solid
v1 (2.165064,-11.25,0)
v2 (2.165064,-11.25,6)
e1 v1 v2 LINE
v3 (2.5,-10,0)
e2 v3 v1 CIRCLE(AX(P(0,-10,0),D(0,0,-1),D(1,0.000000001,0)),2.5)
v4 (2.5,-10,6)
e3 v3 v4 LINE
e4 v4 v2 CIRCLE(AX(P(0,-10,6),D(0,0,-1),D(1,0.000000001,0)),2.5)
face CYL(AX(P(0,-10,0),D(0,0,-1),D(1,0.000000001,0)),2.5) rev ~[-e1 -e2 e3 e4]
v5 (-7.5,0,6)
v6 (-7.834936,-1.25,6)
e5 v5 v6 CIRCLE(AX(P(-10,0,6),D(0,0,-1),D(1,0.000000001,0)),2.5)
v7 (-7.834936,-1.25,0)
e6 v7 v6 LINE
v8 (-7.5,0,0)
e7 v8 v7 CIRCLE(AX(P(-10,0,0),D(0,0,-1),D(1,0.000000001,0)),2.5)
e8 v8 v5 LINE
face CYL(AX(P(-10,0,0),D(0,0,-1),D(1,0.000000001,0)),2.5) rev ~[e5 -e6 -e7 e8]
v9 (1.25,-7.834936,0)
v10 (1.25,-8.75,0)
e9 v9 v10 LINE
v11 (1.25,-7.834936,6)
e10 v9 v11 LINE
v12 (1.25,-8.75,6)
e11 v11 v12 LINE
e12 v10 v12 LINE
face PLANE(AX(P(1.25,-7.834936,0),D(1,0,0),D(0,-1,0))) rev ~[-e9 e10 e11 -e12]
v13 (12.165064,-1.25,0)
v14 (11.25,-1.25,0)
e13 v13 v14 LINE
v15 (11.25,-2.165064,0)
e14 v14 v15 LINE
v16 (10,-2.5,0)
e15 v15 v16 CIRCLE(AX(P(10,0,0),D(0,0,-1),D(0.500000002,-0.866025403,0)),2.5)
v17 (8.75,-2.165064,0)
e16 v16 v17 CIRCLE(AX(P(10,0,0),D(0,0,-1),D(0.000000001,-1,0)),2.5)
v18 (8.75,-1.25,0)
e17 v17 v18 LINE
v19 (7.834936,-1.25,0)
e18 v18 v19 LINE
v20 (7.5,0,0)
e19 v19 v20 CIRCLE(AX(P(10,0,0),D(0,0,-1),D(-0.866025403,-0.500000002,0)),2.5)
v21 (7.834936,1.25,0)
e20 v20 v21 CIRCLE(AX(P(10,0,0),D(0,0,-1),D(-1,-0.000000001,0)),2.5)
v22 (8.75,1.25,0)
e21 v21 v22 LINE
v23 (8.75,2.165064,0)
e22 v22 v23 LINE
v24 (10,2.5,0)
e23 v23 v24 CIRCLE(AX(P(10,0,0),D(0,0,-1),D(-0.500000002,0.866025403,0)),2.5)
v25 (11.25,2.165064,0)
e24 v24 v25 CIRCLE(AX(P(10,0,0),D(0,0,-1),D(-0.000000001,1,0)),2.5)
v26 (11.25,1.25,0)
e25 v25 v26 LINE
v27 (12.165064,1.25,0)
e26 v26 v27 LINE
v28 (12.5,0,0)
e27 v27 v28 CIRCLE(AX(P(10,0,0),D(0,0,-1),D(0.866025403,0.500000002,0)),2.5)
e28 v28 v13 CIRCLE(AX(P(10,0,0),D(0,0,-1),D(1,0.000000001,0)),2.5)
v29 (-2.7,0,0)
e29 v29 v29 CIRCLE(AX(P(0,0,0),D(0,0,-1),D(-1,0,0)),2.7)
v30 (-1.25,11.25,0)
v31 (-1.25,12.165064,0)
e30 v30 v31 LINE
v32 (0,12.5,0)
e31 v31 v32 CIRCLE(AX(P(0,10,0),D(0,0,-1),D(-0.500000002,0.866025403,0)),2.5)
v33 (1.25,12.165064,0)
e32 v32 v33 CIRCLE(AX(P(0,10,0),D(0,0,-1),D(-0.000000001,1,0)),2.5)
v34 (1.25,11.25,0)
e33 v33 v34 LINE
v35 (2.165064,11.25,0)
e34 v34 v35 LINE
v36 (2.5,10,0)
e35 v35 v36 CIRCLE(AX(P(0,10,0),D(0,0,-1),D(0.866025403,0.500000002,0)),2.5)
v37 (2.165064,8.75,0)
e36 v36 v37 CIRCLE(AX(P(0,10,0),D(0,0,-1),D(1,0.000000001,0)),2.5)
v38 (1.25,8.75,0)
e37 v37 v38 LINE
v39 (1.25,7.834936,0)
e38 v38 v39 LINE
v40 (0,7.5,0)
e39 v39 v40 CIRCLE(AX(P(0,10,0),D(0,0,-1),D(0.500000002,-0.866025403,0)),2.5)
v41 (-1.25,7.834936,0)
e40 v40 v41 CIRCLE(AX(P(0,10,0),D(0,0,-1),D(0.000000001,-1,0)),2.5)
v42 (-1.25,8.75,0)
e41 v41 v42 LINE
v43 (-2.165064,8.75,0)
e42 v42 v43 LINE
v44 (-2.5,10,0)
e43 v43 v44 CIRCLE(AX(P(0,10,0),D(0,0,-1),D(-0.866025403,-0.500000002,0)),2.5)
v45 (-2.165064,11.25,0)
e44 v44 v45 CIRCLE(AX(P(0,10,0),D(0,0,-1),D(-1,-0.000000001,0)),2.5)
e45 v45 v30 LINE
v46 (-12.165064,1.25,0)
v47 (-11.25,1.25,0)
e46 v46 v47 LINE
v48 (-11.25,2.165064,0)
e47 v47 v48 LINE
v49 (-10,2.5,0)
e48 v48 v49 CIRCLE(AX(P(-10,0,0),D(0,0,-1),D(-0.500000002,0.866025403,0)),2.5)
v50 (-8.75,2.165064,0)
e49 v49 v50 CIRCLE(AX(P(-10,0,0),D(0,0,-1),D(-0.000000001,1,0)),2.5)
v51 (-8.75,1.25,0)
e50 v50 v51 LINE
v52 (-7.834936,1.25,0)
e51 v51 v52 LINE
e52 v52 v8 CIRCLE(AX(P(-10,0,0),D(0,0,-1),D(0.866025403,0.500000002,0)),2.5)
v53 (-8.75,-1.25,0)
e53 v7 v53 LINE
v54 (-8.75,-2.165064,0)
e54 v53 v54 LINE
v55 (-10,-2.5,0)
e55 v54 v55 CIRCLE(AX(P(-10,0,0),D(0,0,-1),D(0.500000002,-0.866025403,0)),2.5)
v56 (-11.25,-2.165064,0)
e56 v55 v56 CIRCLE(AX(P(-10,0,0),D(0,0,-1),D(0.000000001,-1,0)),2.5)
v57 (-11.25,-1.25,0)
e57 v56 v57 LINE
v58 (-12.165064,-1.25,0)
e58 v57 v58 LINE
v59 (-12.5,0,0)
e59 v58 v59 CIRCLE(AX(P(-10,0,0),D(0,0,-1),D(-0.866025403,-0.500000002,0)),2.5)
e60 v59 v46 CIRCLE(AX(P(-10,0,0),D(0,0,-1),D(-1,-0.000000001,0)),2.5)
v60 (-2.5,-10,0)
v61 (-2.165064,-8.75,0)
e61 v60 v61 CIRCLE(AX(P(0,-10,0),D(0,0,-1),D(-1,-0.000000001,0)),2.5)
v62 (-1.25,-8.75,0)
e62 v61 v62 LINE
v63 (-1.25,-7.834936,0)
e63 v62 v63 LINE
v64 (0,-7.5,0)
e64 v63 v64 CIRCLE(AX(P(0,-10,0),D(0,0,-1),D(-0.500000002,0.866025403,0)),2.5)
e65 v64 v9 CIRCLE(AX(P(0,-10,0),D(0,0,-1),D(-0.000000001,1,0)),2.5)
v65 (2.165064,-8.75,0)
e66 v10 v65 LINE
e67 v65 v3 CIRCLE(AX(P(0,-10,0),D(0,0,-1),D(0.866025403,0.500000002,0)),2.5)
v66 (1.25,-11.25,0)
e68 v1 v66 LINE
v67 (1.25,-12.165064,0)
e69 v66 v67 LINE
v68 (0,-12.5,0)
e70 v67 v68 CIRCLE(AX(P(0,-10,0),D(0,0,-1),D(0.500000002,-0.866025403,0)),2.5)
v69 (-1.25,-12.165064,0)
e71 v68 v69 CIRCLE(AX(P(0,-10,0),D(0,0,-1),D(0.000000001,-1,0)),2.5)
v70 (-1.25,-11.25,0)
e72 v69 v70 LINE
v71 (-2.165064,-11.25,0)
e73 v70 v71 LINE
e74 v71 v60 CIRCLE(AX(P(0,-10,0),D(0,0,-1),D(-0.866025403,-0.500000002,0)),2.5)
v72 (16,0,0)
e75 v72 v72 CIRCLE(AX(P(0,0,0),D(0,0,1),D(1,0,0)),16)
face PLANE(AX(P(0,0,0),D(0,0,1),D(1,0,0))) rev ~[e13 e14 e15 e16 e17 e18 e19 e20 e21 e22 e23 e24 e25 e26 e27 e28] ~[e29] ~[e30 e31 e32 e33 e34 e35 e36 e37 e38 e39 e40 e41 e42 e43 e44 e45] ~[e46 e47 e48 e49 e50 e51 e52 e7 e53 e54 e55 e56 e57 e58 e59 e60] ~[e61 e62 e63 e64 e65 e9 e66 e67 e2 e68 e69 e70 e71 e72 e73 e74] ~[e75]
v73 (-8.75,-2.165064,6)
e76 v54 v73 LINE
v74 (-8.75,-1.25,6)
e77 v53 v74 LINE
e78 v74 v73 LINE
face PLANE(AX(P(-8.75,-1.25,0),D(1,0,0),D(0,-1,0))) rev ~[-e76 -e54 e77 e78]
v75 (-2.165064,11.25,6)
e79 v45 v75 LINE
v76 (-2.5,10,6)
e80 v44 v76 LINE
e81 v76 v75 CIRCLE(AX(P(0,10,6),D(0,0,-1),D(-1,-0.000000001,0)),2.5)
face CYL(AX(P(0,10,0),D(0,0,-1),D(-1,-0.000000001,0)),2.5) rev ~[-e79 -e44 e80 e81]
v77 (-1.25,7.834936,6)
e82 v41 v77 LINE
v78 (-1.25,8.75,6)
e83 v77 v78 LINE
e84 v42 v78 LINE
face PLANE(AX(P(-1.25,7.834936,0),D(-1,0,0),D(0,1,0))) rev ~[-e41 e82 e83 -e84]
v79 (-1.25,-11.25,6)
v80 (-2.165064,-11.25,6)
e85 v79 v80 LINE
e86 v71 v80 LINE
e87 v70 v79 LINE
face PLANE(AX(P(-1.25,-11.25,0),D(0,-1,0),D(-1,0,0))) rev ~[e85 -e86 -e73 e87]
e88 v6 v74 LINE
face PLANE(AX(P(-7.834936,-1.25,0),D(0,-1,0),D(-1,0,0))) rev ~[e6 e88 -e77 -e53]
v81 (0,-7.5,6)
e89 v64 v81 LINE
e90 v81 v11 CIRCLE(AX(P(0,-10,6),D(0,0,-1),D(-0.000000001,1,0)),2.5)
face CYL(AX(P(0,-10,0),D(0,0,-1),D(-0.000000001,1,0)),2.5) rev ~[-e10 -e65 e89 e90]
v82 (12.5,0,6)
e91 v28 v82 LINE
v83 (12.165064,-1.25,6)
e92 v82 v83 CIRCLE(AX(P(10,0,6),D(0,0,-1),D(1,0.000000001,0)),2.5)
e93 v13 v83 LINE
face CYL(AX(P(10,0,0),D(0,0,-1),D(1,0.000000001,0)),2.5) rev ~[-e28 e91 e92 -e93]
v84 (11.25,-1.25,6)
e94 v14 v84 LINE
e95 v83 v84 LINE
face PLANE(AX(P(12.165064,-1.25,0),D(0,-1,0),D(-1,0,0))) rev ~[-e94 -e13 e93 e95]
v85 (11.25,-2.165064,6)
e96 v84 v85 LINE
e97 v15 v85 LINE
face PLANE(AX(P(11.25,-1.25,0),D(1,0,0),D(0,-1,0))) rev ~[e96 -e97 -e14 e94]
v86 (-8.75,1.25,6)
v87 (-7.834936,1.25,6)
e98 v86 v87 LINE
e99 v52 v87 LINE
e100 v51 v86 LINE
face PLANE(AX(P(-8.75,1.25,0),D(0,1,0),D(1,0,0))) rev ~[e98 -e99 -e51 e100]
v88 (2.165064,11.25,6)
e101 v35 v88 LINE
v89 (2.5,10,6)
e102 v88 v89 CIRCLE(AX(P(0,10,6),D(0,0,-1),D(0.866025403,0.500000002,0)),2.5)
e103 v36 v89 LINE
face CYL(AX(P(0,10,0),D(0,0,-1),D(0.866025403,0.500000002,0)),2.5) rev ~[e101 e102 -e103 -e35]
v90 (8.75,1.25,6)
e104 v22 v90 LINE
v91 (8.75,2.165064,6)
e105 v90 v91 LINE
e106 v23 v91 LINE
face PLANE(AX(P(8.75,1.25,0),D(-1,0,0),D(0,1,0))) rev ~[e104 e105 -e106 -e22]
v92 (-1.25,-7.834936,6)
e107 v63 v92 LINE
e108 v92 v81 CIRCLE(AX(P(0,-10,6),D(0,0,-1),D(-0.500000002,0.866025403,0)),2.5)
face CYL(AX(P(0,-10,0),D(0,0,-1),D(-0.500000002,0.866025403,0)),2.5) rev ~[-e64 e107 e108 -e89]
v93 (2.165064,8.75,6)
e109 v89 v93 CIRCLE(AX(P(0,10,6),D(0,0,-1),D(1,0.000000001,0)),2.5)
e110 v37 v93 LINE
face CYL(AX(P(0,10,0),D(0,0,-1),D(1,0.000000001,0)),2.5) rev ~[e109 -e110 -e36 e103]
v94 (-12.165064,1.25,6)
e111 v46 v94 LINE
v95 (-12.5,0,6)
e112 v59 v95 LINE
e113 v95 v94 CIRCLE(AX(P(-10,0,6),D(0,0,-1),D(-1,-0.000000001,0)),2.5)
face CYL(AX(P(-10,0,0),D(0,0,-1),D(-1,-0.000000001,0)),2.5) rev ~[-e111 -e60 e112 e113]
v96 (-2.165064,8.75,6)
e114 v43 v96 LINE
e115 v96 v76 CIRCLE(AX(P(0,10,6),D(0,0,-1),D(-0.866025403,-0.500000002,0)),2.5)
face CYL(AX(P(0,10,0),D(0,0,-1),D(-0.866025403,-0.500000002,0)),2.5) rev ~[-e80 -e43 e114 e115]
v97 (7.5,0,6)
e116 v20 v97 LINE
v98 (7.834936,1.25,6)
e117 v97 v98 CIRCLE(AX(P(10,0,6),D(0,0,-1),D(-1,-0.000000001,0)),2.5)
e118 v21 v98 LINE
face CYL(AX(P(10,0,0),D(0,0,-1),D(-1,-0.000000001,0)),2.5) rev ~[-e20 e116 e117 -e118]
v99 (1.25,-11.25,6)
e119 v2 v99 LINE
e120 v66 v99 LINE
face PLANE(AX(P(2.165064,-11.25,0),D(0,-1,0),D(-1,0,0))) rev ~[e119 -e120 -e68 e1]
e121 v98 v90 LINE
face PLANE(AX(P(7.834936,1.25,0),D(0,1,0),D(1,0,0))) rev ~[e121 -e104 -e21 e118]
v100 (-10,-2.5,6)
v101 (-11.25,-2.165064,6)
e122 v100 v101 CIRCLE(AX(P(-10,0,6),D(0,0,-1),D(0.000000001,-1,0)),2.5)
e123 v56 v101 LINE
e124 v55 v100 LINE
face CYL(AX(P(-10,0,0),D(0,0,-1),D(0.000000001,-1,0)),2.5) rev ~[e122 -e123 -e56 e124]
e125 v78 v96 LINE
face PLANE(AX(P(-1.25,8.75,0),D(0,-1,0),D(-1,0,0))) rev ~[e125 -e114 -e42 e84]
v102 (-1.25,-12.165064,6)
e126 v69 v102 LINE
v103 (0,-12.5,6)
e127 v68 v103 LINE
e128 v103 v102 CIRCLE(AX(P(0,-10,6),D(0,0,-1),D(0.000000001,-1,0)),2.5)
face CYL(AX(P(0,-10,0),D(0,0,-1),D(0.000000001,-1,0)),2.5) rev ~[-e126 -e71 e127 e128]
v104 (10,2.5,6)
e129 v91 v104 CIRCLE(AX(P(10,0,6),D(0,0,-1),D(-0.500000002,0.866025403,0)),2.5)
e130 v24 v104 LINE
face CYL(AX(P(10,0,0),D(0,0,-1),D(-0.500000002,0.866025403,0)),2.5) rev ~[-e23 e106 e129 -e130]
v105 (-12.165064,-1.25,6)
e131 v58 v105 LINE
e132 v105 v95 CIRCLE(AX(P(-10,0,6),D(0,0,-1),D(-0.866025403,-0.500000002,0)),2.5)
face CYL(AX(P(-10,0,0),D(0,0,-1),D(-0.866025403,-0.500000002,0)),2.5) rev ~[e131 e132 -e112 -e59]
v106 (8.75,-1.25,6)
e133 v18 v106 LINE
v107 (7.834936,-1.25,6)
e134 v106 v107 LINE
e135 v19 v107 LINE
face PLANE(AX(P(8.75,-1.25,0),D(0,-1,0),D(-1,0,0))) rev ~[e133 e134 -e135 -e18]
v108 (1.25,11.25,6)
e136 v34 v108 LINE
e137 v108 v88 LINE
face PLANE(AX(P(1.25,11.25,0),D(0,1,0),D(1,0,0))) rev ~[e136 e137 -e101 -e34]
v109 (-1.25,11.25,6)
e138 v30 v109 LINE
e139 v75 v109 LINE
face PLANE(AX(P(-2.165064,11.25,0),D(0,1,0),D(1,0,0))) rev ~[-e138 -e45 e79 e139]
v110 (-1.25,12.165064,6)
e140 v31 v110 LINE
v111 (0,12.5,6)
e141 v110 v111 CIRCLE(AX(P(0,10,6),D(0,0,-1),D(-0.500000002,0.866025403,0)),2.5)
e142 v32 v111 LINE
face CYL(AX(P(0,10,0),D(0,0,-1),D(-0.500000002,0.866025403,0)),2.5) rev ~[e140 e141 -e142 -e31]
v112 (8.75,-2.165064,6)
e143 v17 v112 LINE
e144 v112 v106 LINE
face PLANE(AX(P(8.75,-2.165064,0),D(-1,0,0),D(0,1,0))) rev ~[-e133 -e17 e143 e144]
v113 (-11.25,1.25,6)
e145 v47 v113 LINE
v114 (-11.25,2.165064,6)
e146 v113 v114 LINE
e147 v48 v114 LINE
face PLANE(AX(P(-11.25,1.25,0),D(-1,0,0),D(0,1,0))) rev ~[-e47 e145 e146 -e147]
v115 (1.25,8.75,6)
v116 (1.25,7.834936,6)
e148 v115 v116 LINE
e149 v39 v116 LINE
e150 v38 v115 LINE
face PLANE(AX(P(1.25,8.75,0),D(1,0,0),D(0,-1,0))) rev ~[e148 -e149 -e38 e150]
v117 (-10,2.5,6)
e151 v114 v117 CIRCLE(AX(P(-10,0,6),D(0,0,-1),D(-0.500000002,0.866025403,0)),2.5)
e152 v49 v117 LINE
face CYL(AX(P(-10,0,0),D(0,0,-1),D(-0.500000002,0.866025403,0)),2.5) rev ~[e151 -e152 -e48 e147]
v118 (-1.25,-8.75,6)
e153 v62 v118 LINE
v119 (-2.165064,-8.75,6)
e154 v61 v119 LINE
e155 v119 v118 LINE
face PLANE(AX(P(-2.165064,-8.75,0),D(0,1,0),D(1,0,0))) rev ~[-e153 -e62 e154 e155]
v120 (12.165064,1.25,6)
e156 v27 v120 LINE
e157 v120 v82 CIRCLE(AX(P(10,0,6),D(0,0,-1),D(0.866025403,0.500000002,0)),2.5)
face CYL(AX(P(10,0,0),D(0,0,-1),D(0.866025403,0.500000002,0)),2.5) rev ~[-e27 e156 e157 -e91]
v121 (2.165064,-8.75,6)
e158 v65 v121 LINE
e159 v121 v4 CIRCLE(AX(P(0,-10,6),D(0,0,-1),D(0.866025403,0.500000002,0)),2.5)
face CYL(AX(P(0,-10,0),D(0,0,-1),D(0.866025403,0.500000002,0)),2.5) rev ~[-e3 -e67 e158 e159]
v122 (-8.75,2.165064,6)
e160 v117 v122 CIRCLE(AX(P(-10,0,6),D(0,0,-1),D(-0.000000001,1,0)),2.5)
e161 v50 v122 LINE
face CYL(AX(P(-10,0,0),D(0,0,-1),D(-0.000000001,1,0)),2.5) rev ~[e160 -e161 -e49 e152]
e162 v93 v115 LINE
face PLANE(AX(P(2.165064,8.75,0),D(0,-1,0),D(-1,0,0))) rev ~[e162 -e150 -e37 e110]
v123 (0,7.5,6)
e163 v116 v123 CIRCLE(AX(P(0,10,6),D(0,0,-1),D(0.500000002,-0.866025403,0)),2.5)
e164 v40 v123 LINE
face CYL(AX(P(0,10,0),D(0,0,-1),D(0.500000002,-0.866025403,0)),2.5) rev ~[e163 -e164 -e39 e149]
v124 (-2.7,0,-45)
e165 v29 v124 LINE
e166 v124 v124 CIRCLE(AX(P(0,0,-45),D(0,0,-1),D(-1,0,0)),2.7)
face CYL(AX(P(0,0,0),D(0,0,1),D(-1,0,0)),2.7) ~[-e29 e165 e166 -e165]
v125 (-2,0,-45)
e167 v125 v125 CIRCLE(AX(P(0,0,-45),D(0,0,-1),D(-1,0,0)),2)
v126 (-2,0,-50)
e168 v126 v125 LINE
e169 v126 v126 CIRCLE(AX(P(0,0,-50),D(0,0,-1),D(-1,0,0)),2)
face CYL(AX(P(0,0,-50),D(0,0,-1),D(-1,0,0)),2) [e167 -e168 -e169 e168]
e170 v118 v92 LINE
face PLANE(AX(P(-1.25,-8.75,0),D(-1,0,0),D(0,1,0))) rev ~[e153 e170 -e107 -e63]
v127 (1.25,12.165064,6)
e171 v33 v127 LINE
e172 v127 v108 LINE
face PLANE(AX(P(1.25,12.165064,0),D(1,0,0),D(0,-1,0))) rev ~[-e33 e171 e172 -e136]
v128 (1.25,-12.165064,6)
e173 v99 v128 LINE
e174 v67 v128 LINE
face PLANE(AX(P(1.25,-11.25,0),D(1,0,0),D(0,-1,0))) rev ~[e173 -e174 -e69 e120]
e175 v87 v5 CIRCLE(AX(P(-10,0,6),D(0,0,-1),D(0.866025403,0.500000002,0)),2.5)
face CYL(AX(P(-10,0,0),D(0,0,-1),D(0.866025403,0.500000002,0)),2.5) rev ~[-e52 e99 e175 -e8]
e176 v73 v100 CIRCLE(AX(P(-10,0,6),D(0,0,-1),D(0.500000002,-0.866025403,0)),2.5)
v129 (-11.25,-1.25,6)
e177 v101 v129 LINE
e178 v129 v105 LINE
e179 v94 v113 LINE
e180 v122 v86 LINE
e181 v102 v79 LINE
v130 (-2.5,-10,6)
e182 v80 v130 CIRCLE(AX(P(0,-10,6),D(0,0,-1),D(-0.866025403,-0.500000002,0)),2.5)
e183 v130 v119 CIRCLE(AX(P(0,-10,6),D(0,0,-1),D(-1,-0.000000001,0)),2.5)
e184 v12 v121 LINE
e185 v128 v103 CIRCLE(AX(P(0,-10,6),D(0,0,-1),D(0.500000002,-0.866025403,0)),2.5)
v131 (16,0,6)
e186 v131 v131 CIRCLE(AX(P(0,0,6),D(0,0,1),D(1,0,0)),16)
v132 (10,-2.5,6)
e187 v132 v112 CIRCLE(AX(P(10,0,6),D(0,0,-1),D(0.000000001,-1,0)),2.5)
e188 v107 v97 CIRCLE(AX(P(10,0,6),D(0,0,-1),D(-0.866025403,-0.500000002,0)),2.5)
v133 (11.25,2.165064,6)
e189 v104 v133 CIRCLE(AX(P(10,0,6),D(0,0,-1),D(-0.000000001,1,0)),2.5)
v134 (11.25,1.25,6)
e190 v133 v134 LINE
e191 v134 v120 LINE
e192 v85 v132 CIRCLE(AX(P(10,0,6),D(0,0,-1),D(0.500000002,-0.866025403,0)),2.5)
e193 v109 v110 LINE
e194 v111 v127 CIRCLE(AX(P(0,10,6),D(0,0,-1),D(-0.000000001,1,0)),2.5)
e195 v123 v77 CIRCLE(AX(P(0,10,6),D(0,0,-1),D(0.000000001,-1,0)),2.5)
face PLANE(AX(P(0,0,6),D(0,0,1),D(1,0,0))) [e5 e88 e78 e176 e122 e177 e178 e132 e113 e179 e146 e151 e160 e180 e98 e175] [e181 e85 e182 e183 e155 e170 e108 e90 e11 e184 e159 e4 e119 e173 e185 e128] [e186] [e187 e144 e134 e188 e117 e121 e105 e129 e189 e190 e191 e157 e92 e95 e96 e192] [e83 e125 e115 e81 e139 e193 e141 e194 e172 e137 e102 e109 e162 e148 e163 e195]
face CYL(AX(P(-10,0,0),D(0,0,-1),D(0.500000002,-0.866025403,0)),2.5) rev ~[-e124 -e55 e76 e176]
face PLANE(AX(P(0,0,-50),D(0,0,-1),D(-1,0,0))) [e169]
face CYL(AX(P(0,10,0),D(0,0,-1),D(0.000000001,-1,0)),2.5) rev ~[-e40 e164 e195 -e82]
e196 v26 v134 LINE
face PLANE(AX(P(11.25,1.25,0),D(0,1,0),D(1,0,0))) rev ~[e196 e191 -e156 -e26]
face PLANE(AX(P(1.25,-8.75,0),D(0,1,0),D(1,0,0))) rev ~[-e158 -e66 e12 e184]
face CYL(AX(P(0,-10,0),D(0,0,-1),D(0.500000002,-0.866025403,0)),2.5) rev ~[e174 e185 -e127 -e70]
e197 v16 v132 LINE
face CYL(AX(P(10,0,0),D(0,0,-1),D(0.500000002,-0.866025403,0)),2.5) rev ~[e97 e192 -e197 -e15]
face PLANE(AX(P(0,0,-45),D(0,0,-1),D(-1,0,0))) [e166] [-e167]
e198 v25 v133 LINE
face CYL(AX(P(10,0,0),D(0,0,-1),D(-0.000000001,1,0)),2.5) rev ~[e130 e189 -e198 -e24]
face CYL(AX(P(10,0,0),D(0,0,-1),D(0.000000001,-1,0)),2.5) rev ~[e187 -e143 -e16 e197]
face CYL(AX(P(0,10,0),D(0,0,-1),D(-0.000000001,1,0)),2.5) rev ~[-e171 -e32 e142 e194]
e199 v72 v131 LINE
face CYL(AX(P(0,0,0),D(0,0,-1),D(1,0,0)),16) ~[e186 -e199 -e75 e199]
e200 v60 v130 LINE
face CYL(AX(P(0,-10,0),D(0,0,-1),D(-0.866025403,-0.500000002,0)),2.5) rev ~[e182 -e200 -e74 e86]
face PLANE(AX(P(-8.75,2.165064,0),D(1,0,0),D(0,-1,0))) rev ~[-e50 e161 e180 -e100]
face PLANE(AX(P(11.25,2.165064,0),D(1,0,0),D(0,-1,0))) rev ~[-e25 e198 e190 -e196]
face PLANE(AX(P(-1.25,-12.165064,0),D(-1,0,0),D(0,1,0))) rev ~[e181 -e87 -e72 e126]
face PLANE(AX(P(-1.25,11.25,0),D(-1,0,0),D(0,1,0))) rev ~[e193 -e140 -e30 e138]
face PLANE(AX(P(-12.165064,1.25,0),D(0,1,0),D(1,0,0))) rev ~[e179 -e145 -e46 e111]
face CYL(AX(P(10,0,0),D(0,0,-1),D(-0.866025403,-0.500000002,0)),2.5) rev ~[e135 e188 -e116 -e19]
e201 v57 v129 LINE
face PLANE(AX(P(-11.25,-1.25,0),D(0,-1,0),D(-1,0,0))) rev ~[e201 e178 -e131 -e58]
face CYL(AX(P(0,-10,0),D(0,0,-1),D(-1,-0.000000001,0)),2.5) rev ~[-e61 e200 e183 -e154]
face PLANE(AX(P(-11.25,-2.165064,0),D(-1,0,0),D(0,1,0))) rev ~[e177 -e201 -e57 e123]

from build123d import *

# Parameters (mm, degrees)
CROQUIS2_R              = 16
SALIENTE_EXTRUIR1_DEPTH = 6
CROQUIS3_R              = 2.7
SALIENTE_EXTRUIR2_DEPTH = 50
CROQUIS4_R              = 2.7
CROQUIS4_R_2            = 2
CORTAR_EXTRUIR1_DEPTH   = 5


with BuildPart() as part:
    # Croquis2 → Saliente-Extruir1 (new body)
    with BuildSketch(Plane.XY):
        Circle(CROQUIS2_R)
        with BuildLine():
            Line((1.25, 12.165063509), (1.25, 11.25))
            Line((1.25, 11.25), (2.165063509, 11.25))
            ThreePointArc((2.165063509, 11.25), (2.414814566, 10.647047613), (2.5, 10))
            ThreePointArc((2.5, 10), (2.414814566, 9.352952387), (2.165063509, 8.75))
            Line((2.165063509, 8.75), (1.25, 8.75))
            Line((1.25, 8.75), (1.25, 7.834936491))
            ThreePointArc((1.25, 7.834936491), (0.647047613, 7.585185434), (0, 7.5))
            ThreePointArc((0, 7.5), (-0.647047613, 7.585185434), (-1.25, 7.834936491))
            Line((-1.25, 7.834936491), (-1.25, 8.75))
            Line((-1.25, 8.75), (-2.165063509, 8.75))
            ThreePointArc((-2.165063509, 8.75), (-2.414814566, 9.352952387), (-2.5, 10))
            ThreePointArc((-2.5, 10), (-2.414814566, 10.647047613), (-2.165063509, 11.25))
            Line((-2.165063509, 11.25), (-1.25, 11.25))
            Line((-1.25, 11.25), (-1.25, 12.165063509))
            ThreePointArc((-1.25, 12.165063509), (-0.647047613, 12.414814566), (0, 12.5))
            ThreePointArc((0, 12.5), (0.647047613, 12.414814566), (1.25, 12.165063509))
        make_face(mode=Mode.SUBTRACT)
        with BuildLine():
            Line((12.165063509, -1.25), (11.25, -1.25))
            Line((11.25, -1.25), (11.25, -2.165063509))
            ThreePointArc((11.25, -2.165063509), (10.647047613, -2.414814566), (10, -2.5))
            ThreePointArc((10, -2.5), (9.352952387, -2.414814566), (8.75, -2.165063509))
            Line((8.75, -2.165063509), (8.75, -1.25))
            Line((8.75, -1.25), (7.834936491, -1.25))
            ThreePointArc((7.834936491, -1.25), (7.585185434, -0.647047613), (7.5, 0))
            ThreePointArc((7.5, 0), (7.585185434, 0.647047613), (7.834936491, 1.25))
            Line((7.834936491, 1.25), (8.75, 1.25))
            Line((8.75, 1.25), (8.75, 2.165063509))
            ThreePointArc((8.75, 2.165063509), (9.352952387, 2.414814566), (10, 2.5))
            ThreePointArc((10, 2.5), (10.647047613, 2.414814566), (11.25, 2.165063509))
            Line((11.25, 2.165063509), (11.25, 1.25))
            Line((11.25, 1.25), (12.165063509, 1.25))
            ThreePointArc((12.165063509, 1.25), (12.414814566, 0.647047613), (12.5, 0))
            ThreePointArc((12.5, 0), (12.414814566, -0.647047613), (12.165063509, -1.25))
        make_face(mode=Mode.SUBTRACT)
        with BuildLine():
            Line((-1.25, -12.165063509), (-1.25, -11.25))
            Line((-1.25, -11.25), (-2.165063509, -11.25))
            ThreePointArc((-2.165063509, -11.25), (-2.414814566, -10.647047613), (-2.5, -10))
            ThreePointArc((-2.5, -10), (-2.414814566, -9.352952387), (-2.165063509, -8.75))
            Line((-2.165063509, -8.75), (-1.25, -8.75))
            Line((-1.25, -8.75), (-1.25, -7.834936491))
            ThreePointArc((-1.25, -7.834936491), (-0.647047613, -7.585185434), (0, -7.5))
            ThreePointArc((0, -7.5), (0.647047613, -7.585185434), (1.25, -7.834936491))
            Line((1.25, -7.834936491), (1.25, -8.75))
            Line((1.25, -8.75), (2.165063509, -8.75))
            ThreePointArc((2.165063509, -8.75), (2.414814566, -9.352952387), (2.5, -10))
            ThreePointArc((2.5, -10), (2.414814566, -10.647047613), (2.165063509, -11.25))
            Line((2.165063509, -11.25), (1.25, -11.25))
            Line((1.25, -11.25), (1.25, -12.165063509))
            ThreePointArc((1.25, -12.165063509), (0.647047613, -12.414814566), (0, -12.5))
            ThreePointArc((0, -12.5), (-0.647047613, -12.414814566), (-1.25, -12.165063509))
        make_face(mode=Mode.SUBTRACT)
        with BuildLine():
            Line((-12.165063509, 1.25), (-11.25, 1.25))
            Line((-11.25, 1.25), (-11.25, 2.165063509))
            ThreePointArc((-11.25, 2.165063509), (-10.647047613, 2.414814566), (-10, 2.5))
            ThreePointArc((-10, 2.5), (-9.352952387, 2.414814566), (-8.75, 2.165063509))
            Line((-8.75, 2.165063509), (-8.75, 1.25))
            Line((-8.75, 1.25), (-7.834936491, 1.25))
            ThreePointArc((-7.834936491, 1.25), (-7.585185434, 0.647047613), (-7.5, 0))
            ThreePointArc((-7.5, 0), (-7.585185434, -0.647047613), (-7.834936491, -1.25))
            Line((-7.834936491, -1.25), (-8.75, -1.25))
            Line((-8.75, -1.25), (-8.75, -2.165063509))
            ThreePointArc((-8.75, -2.165063509), (-9.352952387, -2.414814566), (-10, -2.5))
            ThreePointArc((-10, -2.5), (-10.647047613, -2.414814566), (-11.25, -2.165063509))
            Line((-11.25, -2.165063509), (-11.25, -1.25))
            Line((-11.25, -1.25), (-12.165063509, -1.25))
            ThreePointArc((-12.165063509, -1.25), (-12.414814566, -0.647047613), (-12.5, 0))
            ThreePointArc((-12.5, 0), (-12.414814566, 0.647047613), (-12.165063509, 1.25))
        make_face(mode=Mode.SUBTRACT)
    extrude(amount=SALIENTE_EXTRUIR1_DEPTH)

    # Croquis3 → Saliente-Extruir2 (add)
    with BuildSketch(Plane(origin=(0, 0, 0), x_dir=(-1, 0, 0), z_dir=(0, 0, -1))):
        Circle(CROQUIS3_R)
    extrude(amount=SALIENTE_EXTRUIR2_DEPTH)

    # Croquis4 → Cortar-Extruir1 (cut)
    with BuildSketch(Plane(origin=(0, 0, -50), x_dir=(-1, 0, 0), z_dir=(0, 0, -1))):
        Circle(CROQUIS4_R)
        Circle(CROQUIS4_R_2, mode=Mode.SUBTRACT)
    extrude(amount=-CORTAR_EXTRUIR1_DEPTH, mode=Mode.SUBTRACT)


solid = part.part
